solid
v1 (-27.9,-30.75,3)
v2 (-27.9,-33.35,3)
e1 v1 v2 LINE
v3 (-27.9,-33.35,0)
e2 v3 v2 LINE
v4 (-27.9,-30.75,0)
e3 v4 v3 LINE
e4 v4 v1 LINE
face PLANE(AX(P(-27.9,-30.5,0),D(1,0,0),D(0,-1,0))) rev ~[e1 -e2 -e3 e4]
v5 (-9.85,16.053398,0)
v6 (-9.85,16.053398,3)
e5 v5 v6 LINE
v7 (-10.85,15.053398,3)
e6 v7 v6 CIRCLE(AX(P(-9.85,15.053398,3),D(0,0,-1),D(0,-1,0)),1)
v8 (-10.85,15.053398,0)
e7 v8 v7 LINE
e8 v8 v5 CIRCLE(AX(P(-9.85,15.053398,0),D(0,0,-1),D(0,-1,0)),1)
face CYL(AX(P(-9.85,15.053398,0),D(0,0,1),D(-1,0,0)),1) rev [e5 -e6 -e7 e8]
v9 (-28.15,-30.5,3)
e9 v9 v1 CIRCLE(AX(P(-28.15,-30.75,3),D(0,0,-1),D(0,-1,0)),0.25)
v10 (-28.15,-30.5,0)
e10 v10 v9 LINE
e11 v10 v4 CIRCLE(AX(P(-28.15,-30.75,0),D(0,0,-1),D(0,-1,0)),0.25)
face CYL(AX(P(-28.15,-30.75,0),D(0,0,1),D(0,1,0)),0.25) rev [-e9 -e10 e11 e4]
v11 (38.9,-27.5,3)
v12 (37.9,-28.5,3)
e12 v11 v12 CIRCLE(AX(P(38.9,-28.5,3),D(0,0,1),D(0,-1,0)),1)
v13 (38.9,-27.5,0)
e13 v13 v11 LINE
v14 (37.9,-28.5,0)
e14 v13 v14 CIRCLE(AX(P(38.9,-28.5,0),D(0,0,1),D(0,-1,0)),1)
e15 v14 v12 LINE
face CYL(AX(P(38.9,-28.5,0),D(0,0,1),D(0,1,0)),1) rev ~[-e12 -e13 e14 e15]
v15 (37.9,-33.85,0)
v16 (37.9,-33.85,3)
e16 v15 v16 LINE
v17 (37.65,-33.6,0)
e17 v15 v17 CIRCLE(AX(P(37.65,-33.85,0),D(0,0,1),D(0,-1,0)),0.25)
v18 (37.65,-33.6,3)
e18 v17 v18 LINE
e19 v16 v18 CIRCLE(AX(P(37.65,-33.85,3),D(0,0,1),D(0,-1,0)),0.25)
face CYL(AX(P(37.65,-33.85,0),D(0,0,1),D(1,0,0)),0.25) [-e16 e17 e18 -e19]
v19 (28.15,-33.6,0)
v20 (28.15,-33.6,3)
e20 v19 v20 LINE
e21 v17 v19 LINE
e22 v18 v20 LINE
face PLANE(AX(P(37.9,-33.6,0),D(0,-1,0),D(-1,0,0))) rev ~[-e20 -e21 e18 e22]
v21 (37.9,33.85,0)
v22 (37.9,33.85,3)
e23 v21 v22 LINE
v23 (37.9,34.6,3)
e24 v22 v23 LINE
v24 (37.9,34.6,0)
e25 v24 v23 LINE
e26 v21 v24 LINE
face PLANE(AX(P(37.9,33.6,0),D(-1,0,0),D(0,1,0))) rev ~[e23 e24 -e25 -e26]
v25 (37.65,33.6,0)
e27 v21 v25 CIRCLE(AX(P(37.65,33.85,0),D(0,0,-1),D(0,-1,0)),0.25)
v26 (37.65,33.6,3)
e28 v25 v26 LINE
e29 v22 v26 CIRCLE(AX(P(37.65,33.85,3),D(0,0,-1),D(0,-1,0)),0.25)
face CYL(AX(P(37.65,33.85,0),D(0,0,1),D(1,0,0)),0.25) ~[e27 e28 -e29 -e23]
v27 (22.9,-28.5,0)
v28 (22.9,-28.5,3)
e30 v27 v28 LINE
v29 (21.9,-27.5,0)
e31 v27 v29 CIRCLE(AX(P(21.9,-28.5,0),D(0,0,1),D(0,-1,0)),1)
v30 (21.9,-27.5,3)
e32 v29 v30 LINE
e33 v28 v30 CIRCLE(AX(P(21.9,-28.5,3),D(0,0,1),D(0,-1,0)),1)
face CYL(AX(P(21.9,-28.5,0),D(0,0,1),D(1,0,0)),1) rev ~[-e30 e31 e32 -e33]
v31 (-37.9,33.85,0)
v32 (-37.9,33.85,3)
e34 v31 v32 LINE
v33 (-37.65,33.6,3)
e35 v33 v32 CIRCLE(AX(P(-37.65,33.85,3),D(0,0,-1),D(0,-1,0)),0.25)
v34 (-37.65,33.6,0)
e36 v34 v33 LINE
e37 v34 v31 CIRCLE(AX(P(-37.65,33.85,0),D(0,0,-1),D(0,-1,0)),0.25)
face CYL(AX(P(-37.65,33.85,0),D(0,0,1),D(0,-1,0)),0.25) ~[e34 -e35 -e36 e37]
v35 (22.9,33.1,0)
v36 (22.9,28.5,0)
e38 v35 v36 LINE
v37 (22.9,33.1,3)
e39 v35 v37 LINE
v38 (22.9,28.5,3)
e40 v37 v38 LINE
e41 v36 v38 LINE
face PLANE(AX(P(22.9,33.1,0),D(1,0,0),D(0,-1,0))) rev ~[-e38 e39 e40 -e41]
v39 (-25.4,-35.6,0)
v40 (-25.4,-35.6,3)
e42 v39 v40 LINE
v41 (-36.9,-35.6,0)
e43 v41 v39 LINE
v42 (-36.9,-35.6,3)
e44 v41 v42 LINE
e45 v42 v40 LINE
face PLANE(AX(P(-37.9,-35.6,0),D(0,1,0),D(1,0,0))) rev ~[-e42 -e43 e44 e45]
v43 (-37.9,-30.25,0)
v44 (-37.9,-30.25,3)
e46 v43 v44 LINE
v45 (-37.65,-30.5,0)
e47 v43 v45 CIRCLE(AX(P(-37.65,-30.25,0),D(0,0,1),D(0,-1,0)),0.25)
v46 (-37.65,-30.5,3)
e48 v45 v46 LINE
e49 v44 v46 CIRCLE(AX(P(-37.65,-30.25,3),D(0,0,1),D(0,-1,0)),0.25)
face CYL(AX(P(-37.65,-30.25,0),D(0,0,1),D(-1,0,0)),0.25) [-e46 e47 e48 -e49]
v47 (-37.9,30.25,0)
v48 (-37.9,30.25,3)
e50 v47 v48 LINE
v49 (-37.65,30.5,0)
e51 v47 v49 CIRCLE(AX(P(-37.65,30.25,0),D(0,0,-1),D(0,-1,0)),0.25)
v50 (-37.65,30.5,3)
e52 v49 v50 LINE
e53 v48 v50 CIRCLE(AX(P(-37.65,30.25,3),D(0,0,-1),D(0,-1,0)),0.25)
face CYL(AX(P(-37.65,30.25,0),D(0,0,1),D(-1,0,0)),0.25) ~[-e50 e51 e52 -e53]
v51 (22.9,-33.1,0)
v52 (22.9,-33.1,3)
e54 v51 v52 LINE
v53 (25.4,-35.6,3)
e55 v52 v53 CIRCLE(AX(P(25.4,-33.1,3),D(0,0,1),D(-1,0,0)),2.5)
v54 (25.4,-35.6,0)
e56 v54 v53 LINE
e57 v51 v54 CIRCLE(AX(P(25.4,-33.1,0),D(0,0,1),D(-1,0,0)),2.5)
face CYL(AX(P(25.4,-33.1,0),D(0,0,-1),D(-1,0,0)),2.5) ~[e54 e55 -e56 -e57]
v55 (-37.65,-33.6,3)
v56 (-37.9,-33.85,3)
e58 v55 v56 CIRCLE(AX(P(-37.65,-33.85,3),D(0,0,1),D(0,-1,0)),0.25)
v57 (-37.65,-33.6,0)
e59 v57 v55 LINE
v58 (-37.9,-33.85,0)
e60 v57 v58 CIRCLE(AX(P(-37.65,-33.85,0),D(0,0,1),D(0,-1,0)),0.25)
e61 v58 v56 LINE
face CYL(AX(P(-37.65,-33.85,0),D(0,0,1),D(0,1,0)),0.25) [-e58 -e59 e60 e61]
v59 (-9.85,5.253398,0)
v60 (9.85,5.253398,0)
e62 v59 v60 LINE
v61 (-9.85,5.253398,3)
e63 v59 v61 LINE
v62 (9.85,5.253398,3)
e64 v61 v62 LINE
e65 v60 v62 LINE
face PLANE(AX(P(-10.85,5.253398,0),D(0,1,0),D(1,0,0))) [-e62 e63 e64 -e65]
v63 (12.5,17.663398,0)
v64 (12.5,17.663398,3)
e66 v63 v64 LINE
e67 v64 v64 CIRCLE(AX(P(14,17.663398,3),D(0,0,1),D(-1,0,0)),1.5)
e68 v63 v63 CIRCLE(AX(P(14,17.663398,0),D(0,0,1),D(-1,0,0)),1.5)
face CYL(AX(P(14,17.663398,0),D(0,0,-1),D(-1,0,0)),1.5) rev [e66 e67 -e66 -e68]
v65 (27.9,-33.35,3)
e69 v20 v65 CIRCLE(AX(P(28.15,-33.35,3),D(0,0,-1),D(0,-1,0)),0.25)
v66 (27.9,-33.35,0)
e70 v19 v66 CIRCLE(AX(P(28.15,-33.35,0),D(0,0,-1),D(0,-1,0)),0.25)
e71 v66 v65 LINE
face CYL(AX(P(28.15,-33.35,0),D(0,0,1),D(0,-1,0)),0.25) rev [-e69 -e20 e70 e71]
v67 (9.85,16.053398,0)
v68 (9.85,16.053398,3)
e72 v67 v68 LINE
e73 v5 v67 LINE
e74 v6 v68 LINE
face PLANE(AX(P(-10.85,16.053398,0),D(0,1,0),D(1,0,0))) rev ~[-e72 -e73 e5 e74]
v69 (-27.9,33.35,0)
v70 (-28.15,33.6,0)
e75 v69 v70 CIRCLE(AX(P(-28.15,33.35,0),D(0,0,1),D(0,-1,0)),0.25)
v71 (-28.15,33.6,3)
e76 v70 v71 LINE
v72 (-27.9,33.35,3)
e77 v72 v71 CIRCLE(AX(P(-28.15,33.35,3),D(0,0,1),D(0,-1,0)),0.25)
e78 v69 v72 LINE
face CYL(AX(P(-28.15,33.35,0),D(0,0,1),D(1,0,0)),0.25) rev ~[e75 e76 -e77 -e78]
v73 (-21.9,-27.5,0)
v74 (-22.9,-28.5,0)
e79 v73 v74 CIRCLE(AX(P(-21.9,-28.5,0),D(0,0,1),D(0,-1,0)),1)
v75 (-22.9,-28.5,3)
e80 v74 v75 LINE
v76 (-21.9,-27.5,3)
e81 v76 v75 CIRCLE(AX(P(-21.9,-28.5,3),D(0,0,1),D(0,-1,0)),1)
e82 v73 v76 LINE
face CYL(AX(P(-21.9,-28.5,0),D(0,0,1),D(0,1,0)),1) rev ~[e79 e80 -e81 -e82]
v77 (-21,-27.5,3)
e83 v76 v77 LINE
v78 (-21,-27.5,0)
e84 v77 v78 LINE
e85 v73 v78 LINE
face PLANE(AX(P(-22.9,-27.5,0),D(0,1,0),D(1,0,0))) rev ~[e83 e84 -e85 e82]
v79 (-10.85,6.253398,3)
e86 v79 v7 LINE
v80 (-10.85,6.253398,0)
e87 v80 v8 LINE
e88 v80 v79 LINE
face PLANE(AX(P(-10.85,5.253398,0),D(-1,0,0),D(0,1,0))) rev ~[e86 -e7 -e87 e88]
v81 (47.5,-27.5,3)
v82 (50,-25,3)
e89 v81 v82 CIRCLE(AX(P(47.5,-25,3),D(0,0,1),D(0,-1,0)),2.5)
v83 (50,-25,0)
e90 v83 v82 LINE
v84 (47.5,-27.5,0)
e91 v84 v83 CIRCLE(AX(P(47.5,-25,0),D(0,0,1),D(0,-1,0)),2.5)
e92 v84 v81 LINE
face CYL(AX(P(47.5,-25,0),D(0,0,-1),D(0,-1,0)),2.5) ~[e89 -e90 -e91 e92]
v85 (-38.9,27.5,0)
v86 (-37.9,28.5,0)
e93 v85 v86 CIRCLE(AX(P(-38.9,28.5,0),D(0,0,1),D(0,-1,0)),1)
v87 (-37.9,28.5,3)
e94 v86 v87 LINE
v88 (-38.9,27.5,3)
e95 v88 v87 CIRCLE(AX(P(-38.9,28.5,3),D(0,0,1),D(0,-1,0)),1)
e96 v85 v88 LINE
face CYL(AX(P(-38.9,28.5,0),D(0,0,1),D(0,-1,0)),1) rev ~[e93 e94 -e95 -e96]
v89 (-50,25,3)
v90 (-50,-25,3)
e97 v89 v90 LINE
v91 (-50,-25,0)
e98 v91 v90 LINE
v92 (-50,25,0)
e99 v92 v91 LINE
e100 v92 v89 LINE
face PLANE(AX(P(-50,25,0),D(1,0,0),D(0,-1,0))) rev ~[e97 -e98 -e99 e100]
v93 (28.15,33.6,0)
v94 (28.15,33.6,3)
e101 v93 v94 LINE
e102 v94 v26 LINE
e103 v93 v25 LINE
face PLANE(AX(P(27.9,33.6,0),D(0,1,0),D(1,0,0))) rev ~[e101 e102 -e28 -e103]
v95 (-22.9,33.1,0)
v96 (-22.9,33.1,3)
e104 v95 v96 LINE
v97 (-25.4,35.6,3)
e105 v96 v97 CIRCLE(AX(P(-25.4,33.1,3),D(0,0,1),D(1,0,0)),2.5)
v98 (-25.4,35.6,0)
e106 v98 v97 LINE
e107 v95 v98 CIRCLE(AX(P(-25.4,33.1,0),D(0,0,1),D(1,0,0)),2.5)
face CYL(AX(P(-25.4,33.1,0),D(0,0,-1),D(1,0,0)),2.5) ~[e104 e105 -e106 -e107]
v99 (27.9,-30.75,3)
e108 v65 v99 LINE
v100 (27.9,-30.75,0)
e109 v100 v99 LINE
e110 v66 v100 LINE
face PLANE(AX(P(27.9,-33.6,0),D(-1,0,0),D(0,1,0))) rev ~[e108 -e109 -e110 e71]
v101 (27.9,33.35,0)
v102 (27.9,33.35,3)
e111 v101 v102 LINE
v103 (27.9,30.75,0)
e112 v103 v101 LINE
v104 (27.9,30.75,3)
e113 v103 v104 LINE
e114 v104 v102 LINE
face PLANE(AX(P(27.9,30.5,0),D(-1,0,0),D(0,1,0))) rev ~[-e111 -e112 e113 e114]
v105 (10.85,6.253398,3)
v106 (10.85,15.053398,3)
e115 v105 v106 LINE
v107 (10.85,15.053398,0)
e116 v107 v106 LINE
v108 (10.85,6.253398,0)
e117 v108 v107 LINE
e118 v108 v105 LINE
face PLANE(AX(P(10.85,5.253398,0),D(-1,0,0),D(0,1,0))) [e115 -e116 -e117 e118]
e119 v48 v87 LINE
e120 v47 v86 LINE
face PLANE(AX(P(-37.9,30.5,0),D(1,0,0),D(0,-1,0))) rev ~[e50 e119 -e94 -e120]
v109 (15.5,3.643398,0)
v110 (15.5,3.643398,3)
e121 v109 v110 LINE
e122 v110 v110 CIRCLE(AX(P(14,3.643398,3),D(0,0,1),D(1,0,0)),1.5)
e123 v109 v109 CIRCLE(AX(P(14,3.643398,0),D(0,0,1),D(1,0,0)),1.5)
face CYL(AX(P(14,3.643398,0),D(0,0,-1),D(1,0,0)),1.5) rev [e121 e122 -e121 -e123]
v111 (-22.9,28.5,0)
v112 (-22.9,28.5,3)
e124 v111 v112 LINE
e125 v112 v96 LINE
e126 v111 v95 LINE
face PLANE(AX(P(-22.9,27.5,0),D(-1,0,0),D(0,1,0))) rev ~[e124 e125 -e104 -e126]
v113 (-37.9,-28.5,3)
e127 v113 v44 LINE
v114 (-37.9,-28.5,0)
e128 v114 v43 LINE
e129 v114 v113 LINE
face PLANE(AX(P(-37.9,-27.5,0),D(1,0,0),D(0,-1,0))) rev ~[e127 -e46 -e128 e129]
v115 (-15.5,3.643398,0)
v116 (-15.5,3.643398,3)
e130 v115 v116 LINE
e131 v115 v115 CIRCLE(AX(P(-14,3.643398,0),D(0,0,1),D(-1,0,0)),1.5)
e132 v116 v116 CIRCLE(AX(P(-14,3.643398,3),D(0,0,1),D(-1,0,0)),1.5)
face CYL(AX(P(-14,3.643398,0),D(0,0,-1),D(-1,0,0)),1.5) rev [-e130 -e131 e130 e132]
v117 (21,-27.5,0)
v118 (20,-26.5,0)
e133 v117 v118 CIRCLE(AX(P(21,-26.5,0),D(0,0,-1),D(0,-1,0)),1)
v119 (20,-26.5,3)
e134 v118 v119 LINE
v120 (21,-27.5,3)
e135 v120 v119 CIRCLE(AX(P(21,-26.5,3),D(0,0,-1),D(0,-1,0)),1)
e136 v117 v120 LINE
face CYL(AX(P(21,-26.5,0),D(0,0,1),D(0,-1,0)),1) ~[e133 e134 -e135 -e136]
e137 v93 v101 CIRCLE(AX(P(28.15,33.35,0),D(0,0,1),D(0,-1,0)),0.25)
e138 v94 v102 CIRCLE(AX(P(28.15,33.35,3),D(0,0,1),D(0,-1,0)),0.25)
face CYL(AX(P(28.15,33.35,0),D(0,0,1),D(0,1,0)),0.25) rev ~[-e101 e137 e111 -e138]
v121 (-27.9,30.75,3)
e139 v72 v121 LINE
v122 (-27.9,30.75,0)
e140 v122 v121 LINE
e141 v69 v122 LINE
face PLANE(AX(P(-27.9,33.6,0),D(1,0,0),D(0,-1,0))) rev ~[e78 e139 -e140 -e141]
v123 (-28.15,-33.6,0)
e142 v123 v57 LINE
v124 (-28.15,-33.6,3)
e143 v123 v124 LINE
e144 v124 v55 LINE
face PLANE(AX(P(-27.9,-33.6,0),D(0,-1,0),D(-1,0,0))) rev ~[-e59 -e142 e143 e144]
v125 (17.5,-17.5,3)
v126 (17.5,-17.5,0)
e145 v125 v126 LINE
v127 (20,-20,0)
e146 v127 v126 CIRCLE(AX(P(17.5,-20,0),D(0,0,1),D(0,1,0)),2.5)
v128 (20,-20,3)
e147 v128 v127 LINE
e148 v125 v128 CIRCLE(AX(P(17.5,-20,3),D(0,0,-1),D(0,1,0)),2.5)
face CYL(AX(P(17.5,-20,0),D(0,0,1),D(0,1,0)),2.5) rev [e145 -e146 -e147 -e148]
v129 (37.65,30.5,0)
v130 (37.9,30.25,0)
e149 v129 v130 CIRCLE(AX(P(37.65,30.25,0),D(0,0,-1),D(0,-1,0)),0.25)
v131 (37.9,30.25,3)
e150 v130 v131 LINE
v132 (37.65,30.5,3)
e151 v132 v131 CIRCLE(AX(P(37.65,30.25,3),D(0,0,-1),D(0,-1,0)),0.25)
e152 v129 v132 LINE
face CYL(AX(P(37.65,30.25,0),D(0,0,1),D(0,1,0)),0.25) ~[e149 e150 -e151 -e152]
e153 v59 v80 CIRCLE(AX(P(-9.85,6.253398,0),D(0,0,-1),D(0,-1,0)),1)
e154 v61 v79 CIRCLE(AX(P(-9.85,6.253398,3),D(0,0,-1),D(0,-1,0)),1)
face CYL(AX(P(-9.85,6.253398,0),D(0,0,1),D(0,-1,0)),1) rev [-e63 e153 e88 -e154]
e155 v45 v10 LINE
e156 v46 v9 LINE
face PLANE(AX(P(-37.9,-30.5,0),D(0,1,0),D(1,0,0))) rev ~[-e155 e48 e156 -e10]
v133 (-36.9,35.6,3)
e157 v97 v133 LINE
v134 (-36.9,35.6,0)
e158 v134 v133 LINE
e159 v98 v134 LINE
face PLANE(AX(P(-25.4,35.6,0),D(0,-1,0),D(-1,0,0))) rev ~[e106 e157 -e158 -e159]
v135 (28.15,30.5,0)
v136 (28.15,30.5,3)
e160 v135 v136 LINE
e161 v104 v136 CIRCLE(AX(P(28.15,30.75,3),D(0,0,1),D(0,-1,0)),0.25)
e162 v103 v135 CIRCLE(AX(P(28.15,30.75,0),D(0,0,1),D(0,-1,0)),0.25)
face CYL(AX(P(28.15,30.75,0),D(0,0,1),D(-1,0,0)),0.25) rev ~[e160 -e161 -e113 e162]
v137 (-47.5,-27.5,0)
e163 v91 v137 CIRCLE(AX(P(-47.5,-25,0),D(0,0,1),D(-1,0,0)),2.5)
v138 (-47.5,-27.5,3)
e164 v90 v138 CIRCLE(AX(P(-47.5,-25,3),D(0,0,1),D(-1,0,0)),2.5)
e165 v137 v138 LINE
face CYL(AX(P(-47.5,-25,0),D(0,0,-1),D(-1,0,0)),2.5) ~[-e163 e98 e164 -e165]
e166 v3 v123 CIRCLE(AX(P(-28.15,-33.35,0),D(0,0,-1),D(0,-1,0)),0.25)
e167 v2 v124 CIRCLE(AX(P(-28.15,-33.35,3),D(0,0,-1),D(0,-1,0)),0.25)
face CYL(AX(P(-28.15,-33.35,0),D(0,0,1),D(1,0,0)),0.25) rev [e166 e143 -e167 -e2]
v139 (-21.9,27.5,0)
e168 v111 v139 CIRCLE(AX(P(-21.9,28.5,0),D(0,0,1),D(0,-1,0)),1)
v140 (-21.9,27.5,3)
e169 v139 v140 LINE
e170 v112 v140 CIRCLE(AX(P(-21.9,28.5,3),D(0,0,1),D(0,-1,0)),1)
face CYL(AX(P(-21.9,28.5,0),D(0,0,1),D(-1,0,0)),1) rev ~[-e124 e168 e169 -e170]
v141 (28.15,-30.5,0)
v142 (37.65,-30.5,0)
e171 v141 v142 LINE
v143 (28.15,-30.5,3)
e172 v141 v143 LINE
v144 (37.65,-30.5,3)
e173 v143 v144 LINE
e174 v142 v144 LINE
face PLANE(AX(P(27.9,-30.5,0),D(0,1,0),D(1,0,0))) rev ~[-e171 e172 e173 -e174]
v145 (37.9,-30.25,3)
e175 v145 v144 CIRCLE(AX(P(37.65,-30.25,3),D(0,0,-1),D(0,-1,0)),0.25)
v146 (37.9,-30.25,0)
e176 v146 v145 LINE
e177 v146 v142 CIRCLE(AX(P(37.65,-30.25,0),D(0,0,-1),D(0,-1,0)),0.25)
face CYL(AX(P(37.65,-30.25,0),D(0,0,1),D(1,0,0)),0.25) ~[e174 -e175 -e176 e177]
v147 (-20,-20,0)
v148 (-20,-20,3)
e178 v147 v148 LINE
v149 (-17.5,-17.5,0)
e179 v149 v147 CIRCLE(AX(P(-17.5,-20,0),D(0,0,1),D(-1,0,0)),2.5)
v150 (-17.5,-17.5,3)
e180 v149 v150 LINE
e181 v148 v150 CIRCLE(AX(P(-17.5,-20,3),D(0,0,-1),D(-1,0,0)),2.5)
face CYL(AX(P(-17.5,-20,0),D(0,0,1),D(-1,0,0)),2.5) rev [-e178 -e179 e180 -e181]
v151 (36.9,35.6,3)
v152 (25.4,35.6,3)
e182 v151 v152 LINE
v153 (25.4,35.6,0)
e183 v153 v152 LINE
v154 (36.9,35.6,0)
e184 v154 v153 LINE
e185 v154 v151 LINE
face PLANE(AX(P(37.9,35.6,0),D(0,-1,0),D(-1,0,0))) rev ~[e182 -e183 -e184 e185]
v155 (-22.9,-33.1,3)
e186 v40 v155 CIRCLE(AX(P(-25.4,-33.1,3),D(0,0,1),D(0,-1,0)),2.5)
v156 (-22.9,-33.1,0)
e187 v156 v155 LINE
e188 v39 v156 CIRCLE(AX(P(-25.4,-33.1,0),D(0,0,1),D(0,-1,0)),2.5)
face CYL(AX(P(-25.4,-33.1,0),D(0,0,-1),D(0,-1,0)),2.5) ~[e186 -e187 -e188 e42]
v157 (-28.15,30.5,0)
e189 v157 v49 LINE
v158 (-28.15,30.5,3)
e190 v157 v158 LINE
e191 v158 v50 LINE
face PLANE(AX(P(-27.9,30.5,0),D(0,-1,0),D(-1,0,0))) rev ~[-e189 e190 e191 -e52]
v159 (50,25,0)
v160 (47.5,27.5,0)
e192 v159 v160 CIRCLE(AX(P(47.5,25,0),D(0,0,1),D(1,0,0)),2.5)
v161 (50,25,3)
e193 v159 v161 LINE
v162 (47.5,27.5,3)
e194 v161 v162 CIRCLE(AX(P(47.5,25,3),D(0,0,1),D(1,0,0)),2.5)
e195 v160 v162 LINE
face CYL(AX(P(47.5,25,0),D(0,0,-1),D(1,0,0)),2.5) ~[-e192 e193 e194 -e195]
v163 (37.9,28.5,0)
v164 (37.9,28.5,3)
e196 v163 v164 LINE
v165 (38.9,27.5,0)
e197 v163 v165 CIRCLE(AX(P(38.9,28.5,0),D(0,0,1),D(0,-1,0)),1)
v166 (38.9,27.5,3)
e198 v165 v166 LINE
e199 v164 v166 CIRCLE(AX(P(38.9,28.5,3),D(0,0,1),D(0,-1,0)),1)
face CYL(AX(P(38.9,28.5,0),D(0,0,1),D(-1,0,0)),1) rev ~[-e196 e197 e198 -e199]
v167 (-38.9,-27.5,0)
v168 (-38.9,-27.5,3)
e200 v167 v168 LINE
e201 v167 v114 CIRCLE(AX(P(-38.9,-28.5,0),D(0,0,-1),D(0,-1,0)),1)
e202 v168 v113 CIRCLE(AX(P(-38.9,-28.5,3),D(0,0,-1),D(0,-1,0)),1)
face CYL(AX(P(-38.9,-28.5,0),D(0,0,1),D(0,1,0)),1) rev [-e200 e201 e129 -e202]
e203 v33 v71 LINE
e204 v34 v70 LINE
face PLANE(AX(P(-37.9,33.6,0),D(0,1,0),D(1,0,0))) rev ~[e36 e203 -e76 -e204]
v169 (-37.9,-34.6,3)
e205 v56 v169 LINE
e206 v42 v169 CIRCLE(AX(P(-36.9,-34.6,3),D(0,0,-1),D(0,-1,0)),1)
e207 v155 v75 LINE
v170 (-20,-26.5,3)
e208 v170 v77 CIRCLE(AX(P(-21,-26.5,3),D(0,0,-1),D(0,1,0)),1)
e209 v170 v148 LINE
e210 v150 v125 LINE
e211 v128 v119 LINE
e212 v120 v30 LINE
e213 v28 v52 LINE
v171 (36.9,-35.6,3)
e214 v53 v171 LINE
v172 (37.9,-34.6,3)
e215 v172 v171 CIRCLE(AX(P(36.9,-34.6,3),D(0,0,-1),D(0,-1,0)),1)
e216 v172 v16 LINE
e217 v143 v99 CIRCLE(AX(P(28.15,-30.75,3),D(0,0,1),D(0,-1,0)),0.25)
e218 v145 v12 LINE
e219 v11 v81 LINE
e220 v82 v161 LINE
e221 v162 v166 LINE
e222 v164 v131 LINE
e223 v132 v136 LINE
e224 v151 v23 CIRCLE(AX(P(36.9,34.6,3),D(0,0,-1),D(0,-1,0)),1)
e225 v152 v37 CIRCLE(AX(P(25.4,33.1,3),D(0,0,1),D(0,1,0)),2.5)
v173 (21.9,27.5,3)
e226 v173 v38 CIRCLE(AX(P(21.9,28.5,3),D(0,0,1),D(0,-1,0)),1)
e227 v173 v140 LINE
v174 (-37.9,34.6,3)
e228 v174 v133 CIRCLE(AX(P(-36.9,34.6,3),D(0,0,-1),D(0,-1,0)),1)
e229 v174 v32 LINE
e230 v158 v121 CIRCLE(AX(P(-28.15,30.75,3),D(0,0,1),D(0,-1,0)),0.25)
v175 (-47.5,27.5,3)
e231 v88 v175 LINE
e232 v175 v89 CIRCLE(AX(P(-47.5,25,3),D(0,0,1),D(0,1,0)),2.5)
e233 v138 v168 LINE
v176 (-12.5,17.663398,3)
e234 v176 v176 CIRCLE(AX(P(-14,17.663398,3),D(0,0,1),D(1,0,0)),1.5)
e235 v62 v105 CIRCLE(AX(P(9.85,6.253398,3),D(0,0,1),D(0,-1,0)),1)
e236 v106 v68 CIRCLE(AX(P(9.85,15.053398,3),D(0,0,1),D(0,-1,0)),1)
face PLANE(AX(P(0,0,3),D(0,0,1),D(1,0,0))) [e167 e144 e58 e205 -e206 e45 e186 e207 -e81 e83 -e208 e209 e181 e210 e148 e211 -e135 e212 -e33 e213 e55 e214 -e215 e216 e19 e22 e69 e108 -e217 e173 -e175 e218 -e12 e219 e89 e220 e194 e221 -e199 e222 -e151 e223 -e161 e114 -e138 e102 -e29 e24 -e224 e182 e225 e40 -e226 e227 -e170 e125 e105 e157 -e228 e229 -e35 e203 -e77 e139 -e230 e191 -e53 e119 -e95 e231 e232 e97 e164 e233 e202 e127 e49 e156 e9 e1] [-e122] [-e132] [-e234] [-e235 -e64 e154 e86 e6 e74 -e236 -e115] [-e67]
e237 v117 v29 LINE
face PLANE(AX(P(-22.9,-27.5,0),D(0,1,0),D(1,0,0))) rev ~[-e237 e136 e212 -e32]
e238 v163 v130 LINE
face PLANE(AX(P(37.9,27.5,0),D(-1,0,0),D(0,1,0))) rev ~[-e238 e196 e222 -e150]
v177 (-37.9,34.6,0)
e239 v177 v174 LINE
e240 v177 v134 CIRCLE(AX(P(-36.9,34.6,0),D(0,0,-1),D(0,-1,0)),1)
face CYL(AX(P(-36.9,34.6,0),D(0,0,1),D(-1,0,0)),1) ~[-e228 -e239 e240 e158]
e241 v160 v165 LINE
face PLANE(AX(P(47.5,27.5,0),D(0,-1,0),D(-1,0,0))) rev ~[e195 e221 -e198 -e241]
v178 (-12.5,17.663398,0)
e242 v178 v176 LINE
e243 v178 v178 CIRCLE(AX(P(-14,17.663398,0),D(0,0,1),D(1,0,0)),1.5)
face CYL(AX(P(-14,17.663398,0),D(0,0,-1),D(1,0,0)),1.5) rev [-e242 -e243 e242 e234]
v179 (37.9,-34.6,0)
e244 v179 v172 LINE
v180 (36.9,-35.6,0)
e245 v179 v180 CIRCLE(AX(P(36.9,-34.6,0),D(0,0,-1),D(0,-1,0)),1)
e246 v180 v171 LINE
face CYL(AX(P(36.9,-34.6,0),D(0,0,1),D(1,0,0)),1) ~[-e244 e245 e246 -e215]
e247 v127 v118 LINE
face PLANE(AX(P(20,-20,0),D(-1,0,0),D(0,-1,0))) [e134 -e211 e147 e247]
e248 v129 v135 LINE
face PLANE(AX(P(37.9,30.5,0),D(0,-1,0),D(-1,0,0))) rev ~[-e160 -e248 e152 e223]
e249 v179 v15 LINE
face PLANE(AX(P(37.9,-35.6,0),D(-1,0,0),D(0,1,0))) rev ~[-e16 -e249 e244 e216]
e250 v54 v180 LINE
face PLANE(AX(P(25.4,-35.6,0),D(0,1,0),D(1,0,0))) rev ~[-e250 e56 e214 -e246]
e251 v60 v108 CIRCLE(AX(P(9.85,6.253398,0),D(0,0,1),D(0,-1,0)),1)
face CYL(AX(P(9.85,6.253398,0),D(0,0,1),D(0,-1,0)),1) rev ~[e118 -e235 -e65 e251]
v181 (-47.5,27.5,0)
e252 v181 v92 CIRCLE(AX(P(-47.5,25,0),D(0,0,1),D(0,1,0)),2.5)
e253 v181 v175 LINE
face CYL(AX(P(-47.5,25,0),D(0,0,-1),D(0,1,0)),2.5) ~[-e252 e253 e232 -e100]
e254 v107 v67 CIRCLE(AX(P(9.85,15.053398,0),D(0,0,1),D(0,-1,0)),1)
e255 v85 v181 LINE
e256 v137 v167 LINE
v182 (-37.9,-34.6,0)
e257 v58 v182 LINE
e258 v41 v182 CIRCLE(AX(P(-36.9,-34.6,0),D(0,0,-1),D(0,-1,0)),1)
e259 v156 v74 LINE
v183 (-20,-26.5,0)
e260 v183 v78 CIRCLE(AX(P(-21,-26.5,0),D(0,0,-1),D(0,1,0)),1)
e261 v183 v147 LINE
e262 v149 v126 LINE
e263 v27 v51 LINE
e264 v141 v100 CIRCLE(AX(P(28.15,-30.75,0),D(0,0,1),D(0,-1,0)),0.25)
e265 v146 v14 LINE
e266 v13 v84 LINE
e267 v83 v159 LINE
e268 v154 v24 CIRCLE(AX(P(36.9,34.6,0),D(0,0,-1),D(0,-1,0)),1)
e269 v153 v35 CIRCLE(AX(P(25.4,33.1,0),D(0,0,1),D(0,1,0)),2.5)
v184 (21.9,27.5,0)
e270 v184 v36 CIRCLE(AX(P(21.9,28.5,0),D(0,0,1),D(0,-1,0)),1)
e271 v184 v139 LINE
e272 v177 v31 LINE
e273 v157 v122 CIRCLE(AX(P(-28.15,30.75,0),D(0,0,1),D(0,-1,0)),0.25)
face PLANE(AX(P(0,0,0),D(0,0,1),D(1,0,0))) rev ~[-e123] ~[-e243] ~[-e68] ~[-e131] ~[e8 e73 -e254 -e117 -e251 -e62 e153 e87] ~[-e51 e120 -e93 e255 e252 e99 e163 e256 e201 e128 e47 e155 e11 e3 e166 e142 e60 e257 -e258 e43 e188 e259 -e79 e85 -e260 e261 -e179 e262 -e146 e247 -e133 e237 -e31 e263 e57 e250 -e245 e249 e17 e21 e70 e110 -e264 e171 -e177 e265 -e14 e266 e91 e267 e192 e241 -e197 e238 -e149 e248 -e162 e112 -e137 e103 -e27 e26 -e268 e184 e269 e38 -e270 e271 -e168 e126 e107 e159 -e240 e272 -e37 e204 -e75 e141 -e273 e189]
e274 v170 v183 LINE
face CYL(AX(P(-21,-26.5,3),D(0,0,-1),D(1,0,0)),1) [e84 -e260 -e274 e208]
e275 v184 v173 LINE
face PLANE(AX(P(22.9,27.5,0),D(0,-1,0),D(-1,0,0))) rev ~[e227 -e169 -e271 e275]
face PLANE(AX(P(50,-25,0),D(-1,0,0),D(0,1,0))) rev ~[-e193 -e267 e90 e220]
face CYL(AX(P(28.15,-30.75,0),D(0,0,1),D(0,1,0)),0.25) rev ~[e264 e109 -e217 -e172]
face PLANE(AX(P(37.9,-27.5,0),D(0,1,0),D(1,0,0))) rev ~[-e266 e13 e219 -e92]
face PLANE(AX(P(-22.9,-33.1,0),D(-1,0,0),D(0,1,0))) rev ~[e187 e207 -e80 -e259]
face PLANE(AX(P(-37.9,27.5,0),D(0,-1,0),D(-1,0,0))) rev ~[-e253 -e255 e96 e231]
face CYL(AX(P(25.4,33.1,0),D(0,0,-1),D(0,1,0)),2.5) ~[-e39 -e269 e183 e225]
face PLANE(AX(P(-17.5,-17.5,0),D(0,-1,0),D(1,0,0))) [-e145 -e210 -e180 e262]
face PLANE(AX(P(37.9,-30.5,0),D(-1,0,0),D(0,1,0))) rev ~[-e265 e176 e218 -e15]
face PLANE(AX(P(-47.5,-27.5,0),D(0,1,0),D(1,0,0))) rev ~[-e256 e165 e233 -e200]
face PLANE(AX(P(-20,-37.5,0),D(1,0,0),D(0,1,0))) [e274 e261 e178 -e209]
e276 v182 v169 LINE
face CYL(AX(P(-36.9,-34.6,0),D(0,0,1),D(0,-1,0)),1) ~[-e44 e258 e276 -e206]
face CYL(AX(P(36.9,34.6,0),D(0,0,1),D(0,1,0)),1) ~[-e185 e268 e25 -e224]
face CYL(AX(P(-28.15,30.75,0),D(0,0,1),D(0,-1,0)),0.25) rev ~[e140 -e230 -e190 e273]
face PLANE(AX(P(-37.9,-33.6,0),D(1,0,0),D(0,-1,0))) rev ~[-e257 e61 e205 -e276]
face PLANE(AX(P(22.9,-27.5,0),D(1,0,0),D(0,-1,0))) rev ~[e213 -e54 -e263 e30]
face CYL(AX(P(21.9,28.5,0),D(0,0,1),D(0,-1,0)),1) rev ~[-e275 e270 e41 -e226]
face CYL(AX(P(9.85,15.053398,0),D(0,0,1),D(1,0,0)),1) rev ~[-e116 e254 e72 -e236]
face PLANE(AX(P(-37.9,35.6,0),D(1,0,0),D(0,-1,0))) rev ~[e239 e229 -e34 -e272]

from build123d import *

# Parameters (mm, degrees)
CROQUIS1_R              = 1.5
CROQUIS1_W              = 21.7
CROQUIS1_H              = 10.8
SALIENTE_EXTRUIR1_DEPTH = 3
CORTAR_EXTRUIR2_DEPTH   = 3
REDONDEO1_R             = 1
REDONDEO2_R             = 0.25


with BuildPart() as part:
    # Croquis1 → Saliente-Extruir1 (new body)
    with BuildSketch(Plane.XY):
        with BuildLine():
            Line((-50, 25), (-50, -25))
            ThreePointArc((-50, -25), (-49.267766953, -26.767766953), (-47.5, -27.5))
            Line((-47.5, -27.5), (-37.9, -27.5))
            Line((-37.9, -27.5), (-37.9, -30.5))
            Line((-37.9, -30.5), (-27.9, -30.5))
            Line((-27.9, -30.5), (-27.9, -33.6))
            Line((-27.9, -33.6), (-37.9, -33.6))
            Line((-37.9, -33.6), (-37.9, -35.6))
            Line((-37.9, -35.6), (-25.4, -35.6))
            ThreePointArc((-25.4, -35.6), (-23.632233047, -34.867766953), (-22.9, -33.1))
            Line((-22.9, -33.1), (-22.9, -27.5))
            Line((-22.9, -27.5), (22.9, -27.5))
            Line((22.9, -27.5), (22.9, -33.1))
            ThreePointArc((22.9, -33.1), (23.632233047, -34.867766953), (25.4, -35.6))
            Line((25.4, -35.6), (37.9, -35.6))
            Line((37.9, -35.6), (37.9, -33.6))
            Line((37.9, -33.6), (27.9, -33.6))
            Line((27.9, -33.6), (27.9, -30.5))
            Line((27.9, -30.5), (37.9, -30.5))
            Line((37.9, -30.5), (37.9, -27.5))
            Line((37.9, -27.5), (47.5, -27.5))
            ThreePointArc((47.5, -27.5), (49.267766953, -26.767766953), (50, -25))
            Line((50, -25), (50, 25))
            ThreePointArc((50, 25), (49.267766953, 26.767766953), (47.5, 27.5))
            Line((47.5, 27.5), (37.9, 27.5))
            Line((37.9, 27.5), (37.9, 30.5))
            Line((37.9, 30.5), (27.9, 30.5))
            Line((27.9, 30.5), (27.9, 33.6))
            Line((27.9, 33.6), (37.9, 33.6))
            Line((37.9, 33.6), (37.9, 35.6))
            Line((37.9, 35.6), (25.4, 35.6))
            ThreePointArc((25.4, 35.6), (23.632233047, 34.867766953), (22.9, 33.1))
            Line((22.9, 33.1), (22.9, 27.5))
            Line((22.9, 27.5), (-22.9, 27.5))
            Line((-22.9, 27.5), (-22.9, 33.1))
            ThreePointArc((-22.9, 33.1), (-23.632233047, 34.867766953), (-25.4, 35.6))
            Line((-25.4, 35.6), (-37.9, 35.6))
            Line((-37.9, 35.6), (-37.9, 33.6))
            Line((-37.9, 33.6), (-27.9, 33.6))
            Line((-27.9, 33.6), (-27.9, 30.5))
            Line((-27.9, 30.5), (-37.9, 30.5))
            Line((-37.9, 30.5), (-37.9, 27.5))
            Line((-37.9, 27.5), (-47.5, 27.5))
            ThreePointArc((-47.5, 27.5), (-49.267766953, 26.767766953), (-50, 25))
        make_face()
        with Locations((-14, 17.663397979)):
            Circle(CROQUIS1_R, mode=Mode.SUBTRACT)
        with Locations(Location((14, 17.663397979, 0), (0, 0, 180))):
            Circle(CROQUIS1_R, mode=Mode.SUBTRACT)
        with Locations((14, 3.643397979)):
            Circle(CROQUIS1_R, mode=Mode.SUBTRACT)
        with Locations(Location((-14, 3.643397979, 0), (0, 0, 180))):
            Circle(CROQUIS1_R, mode=Mode.SUBTRACT)
        with Locations((0, 10.653397979)):
            Rectangle(CROQUIS1_W, CROQUIS1_H, mode=Mode.SUBTRACT)
    extrude(amount=SALIENTE_EXTRUIR1_DEPTH)

    # Croquis2 → Cortar-Extruir2 (cut, symmetric)
    with BuildSketch(Plane.XY):
        with BuildLine():
            Line((-17.5, -17.5), (17.5, -17.5))
            ThreePointArc((17.5, -17.5), (19.267766953, -18.232233047), (20, -20))
            Line((20, -20), (20, -37.5))
            Line((20, -37.5), (-20, -37.5))
            Line((-20, -37.5), (-20, -20))
            ThreePointArc((-20, -20), (-19.267766953, -18.232233047), (-17.5, -17.5))
        make_face()
    extrude(amount=CORTAR_EXTRUIR2_DEPTH, both=True, mode=Mode.SUBTRACT)

    # Redondeo1
    redondeo1_edges = [part.edges().sort_by_distance(p)[0] for p in [
        (10.85, 5.253397979, 1.5),
        (10.85, 16.053397979, 1.5),
        (-10.85, 16.053397979, 1.5),
        (-10.85, 5.253397979, 1.5),
        (20, -27.5, 1.5),
        (-20, -27.5, 1.5),
        (-37.9, 27.5, 1.5),
        (-37.9, 35.6, 1.5),
        (-22.9, 27.5, 1.5),
        (22.9, 27.5, 1.5),
        (37.9, 35.6, 1.5),
        (37.9, 27.5, 1.5),
        (37.9, -27.5, 1.5),
        (37.9, -35.6, 1.5),
        (22.9, -27.5, 1.5),
        (-22.9, -27.5, 1.5),
        (-37.9, -35.6, 1.5),
        (-37.9, -27.5, 1.5),
    ]]
    fillet(redondeo1_edges, radius=REDONDEO1_R)

    # Redondeo2
    redondeo2_edges = [part.edges().sort_by_distance(p)[0] for p in [
        (-37.9, 30.5, 1.5),
        (-27.9, 30.5, 1.5),
        (-27.9, 33.6, 1.5),
        (-37.9, 33.6, 1.5),
        (37.9, 33.6, 1.5),
        (27.9, 33.6, 1.5),
        (27.9, 30.5, 1.5),
        (37.9, 30.5, 1.5),
        (37.9, -30.5, 1.5),
        (27.9, -30.5, 1.5),
        (27.9, -33.6, 1.5),
        (37.9, -33.6, 1.5),
        (-37.9, -33.6, 1.5),
        (-27.9, -33.6, 1.5),
        (-27.9, -30.5, 1.5),
        (-37.9, -30.5, 1.5),
    ]]
    fillet(redondeo2_edges, radius=REDONDEO2_R)


solid = part.part
